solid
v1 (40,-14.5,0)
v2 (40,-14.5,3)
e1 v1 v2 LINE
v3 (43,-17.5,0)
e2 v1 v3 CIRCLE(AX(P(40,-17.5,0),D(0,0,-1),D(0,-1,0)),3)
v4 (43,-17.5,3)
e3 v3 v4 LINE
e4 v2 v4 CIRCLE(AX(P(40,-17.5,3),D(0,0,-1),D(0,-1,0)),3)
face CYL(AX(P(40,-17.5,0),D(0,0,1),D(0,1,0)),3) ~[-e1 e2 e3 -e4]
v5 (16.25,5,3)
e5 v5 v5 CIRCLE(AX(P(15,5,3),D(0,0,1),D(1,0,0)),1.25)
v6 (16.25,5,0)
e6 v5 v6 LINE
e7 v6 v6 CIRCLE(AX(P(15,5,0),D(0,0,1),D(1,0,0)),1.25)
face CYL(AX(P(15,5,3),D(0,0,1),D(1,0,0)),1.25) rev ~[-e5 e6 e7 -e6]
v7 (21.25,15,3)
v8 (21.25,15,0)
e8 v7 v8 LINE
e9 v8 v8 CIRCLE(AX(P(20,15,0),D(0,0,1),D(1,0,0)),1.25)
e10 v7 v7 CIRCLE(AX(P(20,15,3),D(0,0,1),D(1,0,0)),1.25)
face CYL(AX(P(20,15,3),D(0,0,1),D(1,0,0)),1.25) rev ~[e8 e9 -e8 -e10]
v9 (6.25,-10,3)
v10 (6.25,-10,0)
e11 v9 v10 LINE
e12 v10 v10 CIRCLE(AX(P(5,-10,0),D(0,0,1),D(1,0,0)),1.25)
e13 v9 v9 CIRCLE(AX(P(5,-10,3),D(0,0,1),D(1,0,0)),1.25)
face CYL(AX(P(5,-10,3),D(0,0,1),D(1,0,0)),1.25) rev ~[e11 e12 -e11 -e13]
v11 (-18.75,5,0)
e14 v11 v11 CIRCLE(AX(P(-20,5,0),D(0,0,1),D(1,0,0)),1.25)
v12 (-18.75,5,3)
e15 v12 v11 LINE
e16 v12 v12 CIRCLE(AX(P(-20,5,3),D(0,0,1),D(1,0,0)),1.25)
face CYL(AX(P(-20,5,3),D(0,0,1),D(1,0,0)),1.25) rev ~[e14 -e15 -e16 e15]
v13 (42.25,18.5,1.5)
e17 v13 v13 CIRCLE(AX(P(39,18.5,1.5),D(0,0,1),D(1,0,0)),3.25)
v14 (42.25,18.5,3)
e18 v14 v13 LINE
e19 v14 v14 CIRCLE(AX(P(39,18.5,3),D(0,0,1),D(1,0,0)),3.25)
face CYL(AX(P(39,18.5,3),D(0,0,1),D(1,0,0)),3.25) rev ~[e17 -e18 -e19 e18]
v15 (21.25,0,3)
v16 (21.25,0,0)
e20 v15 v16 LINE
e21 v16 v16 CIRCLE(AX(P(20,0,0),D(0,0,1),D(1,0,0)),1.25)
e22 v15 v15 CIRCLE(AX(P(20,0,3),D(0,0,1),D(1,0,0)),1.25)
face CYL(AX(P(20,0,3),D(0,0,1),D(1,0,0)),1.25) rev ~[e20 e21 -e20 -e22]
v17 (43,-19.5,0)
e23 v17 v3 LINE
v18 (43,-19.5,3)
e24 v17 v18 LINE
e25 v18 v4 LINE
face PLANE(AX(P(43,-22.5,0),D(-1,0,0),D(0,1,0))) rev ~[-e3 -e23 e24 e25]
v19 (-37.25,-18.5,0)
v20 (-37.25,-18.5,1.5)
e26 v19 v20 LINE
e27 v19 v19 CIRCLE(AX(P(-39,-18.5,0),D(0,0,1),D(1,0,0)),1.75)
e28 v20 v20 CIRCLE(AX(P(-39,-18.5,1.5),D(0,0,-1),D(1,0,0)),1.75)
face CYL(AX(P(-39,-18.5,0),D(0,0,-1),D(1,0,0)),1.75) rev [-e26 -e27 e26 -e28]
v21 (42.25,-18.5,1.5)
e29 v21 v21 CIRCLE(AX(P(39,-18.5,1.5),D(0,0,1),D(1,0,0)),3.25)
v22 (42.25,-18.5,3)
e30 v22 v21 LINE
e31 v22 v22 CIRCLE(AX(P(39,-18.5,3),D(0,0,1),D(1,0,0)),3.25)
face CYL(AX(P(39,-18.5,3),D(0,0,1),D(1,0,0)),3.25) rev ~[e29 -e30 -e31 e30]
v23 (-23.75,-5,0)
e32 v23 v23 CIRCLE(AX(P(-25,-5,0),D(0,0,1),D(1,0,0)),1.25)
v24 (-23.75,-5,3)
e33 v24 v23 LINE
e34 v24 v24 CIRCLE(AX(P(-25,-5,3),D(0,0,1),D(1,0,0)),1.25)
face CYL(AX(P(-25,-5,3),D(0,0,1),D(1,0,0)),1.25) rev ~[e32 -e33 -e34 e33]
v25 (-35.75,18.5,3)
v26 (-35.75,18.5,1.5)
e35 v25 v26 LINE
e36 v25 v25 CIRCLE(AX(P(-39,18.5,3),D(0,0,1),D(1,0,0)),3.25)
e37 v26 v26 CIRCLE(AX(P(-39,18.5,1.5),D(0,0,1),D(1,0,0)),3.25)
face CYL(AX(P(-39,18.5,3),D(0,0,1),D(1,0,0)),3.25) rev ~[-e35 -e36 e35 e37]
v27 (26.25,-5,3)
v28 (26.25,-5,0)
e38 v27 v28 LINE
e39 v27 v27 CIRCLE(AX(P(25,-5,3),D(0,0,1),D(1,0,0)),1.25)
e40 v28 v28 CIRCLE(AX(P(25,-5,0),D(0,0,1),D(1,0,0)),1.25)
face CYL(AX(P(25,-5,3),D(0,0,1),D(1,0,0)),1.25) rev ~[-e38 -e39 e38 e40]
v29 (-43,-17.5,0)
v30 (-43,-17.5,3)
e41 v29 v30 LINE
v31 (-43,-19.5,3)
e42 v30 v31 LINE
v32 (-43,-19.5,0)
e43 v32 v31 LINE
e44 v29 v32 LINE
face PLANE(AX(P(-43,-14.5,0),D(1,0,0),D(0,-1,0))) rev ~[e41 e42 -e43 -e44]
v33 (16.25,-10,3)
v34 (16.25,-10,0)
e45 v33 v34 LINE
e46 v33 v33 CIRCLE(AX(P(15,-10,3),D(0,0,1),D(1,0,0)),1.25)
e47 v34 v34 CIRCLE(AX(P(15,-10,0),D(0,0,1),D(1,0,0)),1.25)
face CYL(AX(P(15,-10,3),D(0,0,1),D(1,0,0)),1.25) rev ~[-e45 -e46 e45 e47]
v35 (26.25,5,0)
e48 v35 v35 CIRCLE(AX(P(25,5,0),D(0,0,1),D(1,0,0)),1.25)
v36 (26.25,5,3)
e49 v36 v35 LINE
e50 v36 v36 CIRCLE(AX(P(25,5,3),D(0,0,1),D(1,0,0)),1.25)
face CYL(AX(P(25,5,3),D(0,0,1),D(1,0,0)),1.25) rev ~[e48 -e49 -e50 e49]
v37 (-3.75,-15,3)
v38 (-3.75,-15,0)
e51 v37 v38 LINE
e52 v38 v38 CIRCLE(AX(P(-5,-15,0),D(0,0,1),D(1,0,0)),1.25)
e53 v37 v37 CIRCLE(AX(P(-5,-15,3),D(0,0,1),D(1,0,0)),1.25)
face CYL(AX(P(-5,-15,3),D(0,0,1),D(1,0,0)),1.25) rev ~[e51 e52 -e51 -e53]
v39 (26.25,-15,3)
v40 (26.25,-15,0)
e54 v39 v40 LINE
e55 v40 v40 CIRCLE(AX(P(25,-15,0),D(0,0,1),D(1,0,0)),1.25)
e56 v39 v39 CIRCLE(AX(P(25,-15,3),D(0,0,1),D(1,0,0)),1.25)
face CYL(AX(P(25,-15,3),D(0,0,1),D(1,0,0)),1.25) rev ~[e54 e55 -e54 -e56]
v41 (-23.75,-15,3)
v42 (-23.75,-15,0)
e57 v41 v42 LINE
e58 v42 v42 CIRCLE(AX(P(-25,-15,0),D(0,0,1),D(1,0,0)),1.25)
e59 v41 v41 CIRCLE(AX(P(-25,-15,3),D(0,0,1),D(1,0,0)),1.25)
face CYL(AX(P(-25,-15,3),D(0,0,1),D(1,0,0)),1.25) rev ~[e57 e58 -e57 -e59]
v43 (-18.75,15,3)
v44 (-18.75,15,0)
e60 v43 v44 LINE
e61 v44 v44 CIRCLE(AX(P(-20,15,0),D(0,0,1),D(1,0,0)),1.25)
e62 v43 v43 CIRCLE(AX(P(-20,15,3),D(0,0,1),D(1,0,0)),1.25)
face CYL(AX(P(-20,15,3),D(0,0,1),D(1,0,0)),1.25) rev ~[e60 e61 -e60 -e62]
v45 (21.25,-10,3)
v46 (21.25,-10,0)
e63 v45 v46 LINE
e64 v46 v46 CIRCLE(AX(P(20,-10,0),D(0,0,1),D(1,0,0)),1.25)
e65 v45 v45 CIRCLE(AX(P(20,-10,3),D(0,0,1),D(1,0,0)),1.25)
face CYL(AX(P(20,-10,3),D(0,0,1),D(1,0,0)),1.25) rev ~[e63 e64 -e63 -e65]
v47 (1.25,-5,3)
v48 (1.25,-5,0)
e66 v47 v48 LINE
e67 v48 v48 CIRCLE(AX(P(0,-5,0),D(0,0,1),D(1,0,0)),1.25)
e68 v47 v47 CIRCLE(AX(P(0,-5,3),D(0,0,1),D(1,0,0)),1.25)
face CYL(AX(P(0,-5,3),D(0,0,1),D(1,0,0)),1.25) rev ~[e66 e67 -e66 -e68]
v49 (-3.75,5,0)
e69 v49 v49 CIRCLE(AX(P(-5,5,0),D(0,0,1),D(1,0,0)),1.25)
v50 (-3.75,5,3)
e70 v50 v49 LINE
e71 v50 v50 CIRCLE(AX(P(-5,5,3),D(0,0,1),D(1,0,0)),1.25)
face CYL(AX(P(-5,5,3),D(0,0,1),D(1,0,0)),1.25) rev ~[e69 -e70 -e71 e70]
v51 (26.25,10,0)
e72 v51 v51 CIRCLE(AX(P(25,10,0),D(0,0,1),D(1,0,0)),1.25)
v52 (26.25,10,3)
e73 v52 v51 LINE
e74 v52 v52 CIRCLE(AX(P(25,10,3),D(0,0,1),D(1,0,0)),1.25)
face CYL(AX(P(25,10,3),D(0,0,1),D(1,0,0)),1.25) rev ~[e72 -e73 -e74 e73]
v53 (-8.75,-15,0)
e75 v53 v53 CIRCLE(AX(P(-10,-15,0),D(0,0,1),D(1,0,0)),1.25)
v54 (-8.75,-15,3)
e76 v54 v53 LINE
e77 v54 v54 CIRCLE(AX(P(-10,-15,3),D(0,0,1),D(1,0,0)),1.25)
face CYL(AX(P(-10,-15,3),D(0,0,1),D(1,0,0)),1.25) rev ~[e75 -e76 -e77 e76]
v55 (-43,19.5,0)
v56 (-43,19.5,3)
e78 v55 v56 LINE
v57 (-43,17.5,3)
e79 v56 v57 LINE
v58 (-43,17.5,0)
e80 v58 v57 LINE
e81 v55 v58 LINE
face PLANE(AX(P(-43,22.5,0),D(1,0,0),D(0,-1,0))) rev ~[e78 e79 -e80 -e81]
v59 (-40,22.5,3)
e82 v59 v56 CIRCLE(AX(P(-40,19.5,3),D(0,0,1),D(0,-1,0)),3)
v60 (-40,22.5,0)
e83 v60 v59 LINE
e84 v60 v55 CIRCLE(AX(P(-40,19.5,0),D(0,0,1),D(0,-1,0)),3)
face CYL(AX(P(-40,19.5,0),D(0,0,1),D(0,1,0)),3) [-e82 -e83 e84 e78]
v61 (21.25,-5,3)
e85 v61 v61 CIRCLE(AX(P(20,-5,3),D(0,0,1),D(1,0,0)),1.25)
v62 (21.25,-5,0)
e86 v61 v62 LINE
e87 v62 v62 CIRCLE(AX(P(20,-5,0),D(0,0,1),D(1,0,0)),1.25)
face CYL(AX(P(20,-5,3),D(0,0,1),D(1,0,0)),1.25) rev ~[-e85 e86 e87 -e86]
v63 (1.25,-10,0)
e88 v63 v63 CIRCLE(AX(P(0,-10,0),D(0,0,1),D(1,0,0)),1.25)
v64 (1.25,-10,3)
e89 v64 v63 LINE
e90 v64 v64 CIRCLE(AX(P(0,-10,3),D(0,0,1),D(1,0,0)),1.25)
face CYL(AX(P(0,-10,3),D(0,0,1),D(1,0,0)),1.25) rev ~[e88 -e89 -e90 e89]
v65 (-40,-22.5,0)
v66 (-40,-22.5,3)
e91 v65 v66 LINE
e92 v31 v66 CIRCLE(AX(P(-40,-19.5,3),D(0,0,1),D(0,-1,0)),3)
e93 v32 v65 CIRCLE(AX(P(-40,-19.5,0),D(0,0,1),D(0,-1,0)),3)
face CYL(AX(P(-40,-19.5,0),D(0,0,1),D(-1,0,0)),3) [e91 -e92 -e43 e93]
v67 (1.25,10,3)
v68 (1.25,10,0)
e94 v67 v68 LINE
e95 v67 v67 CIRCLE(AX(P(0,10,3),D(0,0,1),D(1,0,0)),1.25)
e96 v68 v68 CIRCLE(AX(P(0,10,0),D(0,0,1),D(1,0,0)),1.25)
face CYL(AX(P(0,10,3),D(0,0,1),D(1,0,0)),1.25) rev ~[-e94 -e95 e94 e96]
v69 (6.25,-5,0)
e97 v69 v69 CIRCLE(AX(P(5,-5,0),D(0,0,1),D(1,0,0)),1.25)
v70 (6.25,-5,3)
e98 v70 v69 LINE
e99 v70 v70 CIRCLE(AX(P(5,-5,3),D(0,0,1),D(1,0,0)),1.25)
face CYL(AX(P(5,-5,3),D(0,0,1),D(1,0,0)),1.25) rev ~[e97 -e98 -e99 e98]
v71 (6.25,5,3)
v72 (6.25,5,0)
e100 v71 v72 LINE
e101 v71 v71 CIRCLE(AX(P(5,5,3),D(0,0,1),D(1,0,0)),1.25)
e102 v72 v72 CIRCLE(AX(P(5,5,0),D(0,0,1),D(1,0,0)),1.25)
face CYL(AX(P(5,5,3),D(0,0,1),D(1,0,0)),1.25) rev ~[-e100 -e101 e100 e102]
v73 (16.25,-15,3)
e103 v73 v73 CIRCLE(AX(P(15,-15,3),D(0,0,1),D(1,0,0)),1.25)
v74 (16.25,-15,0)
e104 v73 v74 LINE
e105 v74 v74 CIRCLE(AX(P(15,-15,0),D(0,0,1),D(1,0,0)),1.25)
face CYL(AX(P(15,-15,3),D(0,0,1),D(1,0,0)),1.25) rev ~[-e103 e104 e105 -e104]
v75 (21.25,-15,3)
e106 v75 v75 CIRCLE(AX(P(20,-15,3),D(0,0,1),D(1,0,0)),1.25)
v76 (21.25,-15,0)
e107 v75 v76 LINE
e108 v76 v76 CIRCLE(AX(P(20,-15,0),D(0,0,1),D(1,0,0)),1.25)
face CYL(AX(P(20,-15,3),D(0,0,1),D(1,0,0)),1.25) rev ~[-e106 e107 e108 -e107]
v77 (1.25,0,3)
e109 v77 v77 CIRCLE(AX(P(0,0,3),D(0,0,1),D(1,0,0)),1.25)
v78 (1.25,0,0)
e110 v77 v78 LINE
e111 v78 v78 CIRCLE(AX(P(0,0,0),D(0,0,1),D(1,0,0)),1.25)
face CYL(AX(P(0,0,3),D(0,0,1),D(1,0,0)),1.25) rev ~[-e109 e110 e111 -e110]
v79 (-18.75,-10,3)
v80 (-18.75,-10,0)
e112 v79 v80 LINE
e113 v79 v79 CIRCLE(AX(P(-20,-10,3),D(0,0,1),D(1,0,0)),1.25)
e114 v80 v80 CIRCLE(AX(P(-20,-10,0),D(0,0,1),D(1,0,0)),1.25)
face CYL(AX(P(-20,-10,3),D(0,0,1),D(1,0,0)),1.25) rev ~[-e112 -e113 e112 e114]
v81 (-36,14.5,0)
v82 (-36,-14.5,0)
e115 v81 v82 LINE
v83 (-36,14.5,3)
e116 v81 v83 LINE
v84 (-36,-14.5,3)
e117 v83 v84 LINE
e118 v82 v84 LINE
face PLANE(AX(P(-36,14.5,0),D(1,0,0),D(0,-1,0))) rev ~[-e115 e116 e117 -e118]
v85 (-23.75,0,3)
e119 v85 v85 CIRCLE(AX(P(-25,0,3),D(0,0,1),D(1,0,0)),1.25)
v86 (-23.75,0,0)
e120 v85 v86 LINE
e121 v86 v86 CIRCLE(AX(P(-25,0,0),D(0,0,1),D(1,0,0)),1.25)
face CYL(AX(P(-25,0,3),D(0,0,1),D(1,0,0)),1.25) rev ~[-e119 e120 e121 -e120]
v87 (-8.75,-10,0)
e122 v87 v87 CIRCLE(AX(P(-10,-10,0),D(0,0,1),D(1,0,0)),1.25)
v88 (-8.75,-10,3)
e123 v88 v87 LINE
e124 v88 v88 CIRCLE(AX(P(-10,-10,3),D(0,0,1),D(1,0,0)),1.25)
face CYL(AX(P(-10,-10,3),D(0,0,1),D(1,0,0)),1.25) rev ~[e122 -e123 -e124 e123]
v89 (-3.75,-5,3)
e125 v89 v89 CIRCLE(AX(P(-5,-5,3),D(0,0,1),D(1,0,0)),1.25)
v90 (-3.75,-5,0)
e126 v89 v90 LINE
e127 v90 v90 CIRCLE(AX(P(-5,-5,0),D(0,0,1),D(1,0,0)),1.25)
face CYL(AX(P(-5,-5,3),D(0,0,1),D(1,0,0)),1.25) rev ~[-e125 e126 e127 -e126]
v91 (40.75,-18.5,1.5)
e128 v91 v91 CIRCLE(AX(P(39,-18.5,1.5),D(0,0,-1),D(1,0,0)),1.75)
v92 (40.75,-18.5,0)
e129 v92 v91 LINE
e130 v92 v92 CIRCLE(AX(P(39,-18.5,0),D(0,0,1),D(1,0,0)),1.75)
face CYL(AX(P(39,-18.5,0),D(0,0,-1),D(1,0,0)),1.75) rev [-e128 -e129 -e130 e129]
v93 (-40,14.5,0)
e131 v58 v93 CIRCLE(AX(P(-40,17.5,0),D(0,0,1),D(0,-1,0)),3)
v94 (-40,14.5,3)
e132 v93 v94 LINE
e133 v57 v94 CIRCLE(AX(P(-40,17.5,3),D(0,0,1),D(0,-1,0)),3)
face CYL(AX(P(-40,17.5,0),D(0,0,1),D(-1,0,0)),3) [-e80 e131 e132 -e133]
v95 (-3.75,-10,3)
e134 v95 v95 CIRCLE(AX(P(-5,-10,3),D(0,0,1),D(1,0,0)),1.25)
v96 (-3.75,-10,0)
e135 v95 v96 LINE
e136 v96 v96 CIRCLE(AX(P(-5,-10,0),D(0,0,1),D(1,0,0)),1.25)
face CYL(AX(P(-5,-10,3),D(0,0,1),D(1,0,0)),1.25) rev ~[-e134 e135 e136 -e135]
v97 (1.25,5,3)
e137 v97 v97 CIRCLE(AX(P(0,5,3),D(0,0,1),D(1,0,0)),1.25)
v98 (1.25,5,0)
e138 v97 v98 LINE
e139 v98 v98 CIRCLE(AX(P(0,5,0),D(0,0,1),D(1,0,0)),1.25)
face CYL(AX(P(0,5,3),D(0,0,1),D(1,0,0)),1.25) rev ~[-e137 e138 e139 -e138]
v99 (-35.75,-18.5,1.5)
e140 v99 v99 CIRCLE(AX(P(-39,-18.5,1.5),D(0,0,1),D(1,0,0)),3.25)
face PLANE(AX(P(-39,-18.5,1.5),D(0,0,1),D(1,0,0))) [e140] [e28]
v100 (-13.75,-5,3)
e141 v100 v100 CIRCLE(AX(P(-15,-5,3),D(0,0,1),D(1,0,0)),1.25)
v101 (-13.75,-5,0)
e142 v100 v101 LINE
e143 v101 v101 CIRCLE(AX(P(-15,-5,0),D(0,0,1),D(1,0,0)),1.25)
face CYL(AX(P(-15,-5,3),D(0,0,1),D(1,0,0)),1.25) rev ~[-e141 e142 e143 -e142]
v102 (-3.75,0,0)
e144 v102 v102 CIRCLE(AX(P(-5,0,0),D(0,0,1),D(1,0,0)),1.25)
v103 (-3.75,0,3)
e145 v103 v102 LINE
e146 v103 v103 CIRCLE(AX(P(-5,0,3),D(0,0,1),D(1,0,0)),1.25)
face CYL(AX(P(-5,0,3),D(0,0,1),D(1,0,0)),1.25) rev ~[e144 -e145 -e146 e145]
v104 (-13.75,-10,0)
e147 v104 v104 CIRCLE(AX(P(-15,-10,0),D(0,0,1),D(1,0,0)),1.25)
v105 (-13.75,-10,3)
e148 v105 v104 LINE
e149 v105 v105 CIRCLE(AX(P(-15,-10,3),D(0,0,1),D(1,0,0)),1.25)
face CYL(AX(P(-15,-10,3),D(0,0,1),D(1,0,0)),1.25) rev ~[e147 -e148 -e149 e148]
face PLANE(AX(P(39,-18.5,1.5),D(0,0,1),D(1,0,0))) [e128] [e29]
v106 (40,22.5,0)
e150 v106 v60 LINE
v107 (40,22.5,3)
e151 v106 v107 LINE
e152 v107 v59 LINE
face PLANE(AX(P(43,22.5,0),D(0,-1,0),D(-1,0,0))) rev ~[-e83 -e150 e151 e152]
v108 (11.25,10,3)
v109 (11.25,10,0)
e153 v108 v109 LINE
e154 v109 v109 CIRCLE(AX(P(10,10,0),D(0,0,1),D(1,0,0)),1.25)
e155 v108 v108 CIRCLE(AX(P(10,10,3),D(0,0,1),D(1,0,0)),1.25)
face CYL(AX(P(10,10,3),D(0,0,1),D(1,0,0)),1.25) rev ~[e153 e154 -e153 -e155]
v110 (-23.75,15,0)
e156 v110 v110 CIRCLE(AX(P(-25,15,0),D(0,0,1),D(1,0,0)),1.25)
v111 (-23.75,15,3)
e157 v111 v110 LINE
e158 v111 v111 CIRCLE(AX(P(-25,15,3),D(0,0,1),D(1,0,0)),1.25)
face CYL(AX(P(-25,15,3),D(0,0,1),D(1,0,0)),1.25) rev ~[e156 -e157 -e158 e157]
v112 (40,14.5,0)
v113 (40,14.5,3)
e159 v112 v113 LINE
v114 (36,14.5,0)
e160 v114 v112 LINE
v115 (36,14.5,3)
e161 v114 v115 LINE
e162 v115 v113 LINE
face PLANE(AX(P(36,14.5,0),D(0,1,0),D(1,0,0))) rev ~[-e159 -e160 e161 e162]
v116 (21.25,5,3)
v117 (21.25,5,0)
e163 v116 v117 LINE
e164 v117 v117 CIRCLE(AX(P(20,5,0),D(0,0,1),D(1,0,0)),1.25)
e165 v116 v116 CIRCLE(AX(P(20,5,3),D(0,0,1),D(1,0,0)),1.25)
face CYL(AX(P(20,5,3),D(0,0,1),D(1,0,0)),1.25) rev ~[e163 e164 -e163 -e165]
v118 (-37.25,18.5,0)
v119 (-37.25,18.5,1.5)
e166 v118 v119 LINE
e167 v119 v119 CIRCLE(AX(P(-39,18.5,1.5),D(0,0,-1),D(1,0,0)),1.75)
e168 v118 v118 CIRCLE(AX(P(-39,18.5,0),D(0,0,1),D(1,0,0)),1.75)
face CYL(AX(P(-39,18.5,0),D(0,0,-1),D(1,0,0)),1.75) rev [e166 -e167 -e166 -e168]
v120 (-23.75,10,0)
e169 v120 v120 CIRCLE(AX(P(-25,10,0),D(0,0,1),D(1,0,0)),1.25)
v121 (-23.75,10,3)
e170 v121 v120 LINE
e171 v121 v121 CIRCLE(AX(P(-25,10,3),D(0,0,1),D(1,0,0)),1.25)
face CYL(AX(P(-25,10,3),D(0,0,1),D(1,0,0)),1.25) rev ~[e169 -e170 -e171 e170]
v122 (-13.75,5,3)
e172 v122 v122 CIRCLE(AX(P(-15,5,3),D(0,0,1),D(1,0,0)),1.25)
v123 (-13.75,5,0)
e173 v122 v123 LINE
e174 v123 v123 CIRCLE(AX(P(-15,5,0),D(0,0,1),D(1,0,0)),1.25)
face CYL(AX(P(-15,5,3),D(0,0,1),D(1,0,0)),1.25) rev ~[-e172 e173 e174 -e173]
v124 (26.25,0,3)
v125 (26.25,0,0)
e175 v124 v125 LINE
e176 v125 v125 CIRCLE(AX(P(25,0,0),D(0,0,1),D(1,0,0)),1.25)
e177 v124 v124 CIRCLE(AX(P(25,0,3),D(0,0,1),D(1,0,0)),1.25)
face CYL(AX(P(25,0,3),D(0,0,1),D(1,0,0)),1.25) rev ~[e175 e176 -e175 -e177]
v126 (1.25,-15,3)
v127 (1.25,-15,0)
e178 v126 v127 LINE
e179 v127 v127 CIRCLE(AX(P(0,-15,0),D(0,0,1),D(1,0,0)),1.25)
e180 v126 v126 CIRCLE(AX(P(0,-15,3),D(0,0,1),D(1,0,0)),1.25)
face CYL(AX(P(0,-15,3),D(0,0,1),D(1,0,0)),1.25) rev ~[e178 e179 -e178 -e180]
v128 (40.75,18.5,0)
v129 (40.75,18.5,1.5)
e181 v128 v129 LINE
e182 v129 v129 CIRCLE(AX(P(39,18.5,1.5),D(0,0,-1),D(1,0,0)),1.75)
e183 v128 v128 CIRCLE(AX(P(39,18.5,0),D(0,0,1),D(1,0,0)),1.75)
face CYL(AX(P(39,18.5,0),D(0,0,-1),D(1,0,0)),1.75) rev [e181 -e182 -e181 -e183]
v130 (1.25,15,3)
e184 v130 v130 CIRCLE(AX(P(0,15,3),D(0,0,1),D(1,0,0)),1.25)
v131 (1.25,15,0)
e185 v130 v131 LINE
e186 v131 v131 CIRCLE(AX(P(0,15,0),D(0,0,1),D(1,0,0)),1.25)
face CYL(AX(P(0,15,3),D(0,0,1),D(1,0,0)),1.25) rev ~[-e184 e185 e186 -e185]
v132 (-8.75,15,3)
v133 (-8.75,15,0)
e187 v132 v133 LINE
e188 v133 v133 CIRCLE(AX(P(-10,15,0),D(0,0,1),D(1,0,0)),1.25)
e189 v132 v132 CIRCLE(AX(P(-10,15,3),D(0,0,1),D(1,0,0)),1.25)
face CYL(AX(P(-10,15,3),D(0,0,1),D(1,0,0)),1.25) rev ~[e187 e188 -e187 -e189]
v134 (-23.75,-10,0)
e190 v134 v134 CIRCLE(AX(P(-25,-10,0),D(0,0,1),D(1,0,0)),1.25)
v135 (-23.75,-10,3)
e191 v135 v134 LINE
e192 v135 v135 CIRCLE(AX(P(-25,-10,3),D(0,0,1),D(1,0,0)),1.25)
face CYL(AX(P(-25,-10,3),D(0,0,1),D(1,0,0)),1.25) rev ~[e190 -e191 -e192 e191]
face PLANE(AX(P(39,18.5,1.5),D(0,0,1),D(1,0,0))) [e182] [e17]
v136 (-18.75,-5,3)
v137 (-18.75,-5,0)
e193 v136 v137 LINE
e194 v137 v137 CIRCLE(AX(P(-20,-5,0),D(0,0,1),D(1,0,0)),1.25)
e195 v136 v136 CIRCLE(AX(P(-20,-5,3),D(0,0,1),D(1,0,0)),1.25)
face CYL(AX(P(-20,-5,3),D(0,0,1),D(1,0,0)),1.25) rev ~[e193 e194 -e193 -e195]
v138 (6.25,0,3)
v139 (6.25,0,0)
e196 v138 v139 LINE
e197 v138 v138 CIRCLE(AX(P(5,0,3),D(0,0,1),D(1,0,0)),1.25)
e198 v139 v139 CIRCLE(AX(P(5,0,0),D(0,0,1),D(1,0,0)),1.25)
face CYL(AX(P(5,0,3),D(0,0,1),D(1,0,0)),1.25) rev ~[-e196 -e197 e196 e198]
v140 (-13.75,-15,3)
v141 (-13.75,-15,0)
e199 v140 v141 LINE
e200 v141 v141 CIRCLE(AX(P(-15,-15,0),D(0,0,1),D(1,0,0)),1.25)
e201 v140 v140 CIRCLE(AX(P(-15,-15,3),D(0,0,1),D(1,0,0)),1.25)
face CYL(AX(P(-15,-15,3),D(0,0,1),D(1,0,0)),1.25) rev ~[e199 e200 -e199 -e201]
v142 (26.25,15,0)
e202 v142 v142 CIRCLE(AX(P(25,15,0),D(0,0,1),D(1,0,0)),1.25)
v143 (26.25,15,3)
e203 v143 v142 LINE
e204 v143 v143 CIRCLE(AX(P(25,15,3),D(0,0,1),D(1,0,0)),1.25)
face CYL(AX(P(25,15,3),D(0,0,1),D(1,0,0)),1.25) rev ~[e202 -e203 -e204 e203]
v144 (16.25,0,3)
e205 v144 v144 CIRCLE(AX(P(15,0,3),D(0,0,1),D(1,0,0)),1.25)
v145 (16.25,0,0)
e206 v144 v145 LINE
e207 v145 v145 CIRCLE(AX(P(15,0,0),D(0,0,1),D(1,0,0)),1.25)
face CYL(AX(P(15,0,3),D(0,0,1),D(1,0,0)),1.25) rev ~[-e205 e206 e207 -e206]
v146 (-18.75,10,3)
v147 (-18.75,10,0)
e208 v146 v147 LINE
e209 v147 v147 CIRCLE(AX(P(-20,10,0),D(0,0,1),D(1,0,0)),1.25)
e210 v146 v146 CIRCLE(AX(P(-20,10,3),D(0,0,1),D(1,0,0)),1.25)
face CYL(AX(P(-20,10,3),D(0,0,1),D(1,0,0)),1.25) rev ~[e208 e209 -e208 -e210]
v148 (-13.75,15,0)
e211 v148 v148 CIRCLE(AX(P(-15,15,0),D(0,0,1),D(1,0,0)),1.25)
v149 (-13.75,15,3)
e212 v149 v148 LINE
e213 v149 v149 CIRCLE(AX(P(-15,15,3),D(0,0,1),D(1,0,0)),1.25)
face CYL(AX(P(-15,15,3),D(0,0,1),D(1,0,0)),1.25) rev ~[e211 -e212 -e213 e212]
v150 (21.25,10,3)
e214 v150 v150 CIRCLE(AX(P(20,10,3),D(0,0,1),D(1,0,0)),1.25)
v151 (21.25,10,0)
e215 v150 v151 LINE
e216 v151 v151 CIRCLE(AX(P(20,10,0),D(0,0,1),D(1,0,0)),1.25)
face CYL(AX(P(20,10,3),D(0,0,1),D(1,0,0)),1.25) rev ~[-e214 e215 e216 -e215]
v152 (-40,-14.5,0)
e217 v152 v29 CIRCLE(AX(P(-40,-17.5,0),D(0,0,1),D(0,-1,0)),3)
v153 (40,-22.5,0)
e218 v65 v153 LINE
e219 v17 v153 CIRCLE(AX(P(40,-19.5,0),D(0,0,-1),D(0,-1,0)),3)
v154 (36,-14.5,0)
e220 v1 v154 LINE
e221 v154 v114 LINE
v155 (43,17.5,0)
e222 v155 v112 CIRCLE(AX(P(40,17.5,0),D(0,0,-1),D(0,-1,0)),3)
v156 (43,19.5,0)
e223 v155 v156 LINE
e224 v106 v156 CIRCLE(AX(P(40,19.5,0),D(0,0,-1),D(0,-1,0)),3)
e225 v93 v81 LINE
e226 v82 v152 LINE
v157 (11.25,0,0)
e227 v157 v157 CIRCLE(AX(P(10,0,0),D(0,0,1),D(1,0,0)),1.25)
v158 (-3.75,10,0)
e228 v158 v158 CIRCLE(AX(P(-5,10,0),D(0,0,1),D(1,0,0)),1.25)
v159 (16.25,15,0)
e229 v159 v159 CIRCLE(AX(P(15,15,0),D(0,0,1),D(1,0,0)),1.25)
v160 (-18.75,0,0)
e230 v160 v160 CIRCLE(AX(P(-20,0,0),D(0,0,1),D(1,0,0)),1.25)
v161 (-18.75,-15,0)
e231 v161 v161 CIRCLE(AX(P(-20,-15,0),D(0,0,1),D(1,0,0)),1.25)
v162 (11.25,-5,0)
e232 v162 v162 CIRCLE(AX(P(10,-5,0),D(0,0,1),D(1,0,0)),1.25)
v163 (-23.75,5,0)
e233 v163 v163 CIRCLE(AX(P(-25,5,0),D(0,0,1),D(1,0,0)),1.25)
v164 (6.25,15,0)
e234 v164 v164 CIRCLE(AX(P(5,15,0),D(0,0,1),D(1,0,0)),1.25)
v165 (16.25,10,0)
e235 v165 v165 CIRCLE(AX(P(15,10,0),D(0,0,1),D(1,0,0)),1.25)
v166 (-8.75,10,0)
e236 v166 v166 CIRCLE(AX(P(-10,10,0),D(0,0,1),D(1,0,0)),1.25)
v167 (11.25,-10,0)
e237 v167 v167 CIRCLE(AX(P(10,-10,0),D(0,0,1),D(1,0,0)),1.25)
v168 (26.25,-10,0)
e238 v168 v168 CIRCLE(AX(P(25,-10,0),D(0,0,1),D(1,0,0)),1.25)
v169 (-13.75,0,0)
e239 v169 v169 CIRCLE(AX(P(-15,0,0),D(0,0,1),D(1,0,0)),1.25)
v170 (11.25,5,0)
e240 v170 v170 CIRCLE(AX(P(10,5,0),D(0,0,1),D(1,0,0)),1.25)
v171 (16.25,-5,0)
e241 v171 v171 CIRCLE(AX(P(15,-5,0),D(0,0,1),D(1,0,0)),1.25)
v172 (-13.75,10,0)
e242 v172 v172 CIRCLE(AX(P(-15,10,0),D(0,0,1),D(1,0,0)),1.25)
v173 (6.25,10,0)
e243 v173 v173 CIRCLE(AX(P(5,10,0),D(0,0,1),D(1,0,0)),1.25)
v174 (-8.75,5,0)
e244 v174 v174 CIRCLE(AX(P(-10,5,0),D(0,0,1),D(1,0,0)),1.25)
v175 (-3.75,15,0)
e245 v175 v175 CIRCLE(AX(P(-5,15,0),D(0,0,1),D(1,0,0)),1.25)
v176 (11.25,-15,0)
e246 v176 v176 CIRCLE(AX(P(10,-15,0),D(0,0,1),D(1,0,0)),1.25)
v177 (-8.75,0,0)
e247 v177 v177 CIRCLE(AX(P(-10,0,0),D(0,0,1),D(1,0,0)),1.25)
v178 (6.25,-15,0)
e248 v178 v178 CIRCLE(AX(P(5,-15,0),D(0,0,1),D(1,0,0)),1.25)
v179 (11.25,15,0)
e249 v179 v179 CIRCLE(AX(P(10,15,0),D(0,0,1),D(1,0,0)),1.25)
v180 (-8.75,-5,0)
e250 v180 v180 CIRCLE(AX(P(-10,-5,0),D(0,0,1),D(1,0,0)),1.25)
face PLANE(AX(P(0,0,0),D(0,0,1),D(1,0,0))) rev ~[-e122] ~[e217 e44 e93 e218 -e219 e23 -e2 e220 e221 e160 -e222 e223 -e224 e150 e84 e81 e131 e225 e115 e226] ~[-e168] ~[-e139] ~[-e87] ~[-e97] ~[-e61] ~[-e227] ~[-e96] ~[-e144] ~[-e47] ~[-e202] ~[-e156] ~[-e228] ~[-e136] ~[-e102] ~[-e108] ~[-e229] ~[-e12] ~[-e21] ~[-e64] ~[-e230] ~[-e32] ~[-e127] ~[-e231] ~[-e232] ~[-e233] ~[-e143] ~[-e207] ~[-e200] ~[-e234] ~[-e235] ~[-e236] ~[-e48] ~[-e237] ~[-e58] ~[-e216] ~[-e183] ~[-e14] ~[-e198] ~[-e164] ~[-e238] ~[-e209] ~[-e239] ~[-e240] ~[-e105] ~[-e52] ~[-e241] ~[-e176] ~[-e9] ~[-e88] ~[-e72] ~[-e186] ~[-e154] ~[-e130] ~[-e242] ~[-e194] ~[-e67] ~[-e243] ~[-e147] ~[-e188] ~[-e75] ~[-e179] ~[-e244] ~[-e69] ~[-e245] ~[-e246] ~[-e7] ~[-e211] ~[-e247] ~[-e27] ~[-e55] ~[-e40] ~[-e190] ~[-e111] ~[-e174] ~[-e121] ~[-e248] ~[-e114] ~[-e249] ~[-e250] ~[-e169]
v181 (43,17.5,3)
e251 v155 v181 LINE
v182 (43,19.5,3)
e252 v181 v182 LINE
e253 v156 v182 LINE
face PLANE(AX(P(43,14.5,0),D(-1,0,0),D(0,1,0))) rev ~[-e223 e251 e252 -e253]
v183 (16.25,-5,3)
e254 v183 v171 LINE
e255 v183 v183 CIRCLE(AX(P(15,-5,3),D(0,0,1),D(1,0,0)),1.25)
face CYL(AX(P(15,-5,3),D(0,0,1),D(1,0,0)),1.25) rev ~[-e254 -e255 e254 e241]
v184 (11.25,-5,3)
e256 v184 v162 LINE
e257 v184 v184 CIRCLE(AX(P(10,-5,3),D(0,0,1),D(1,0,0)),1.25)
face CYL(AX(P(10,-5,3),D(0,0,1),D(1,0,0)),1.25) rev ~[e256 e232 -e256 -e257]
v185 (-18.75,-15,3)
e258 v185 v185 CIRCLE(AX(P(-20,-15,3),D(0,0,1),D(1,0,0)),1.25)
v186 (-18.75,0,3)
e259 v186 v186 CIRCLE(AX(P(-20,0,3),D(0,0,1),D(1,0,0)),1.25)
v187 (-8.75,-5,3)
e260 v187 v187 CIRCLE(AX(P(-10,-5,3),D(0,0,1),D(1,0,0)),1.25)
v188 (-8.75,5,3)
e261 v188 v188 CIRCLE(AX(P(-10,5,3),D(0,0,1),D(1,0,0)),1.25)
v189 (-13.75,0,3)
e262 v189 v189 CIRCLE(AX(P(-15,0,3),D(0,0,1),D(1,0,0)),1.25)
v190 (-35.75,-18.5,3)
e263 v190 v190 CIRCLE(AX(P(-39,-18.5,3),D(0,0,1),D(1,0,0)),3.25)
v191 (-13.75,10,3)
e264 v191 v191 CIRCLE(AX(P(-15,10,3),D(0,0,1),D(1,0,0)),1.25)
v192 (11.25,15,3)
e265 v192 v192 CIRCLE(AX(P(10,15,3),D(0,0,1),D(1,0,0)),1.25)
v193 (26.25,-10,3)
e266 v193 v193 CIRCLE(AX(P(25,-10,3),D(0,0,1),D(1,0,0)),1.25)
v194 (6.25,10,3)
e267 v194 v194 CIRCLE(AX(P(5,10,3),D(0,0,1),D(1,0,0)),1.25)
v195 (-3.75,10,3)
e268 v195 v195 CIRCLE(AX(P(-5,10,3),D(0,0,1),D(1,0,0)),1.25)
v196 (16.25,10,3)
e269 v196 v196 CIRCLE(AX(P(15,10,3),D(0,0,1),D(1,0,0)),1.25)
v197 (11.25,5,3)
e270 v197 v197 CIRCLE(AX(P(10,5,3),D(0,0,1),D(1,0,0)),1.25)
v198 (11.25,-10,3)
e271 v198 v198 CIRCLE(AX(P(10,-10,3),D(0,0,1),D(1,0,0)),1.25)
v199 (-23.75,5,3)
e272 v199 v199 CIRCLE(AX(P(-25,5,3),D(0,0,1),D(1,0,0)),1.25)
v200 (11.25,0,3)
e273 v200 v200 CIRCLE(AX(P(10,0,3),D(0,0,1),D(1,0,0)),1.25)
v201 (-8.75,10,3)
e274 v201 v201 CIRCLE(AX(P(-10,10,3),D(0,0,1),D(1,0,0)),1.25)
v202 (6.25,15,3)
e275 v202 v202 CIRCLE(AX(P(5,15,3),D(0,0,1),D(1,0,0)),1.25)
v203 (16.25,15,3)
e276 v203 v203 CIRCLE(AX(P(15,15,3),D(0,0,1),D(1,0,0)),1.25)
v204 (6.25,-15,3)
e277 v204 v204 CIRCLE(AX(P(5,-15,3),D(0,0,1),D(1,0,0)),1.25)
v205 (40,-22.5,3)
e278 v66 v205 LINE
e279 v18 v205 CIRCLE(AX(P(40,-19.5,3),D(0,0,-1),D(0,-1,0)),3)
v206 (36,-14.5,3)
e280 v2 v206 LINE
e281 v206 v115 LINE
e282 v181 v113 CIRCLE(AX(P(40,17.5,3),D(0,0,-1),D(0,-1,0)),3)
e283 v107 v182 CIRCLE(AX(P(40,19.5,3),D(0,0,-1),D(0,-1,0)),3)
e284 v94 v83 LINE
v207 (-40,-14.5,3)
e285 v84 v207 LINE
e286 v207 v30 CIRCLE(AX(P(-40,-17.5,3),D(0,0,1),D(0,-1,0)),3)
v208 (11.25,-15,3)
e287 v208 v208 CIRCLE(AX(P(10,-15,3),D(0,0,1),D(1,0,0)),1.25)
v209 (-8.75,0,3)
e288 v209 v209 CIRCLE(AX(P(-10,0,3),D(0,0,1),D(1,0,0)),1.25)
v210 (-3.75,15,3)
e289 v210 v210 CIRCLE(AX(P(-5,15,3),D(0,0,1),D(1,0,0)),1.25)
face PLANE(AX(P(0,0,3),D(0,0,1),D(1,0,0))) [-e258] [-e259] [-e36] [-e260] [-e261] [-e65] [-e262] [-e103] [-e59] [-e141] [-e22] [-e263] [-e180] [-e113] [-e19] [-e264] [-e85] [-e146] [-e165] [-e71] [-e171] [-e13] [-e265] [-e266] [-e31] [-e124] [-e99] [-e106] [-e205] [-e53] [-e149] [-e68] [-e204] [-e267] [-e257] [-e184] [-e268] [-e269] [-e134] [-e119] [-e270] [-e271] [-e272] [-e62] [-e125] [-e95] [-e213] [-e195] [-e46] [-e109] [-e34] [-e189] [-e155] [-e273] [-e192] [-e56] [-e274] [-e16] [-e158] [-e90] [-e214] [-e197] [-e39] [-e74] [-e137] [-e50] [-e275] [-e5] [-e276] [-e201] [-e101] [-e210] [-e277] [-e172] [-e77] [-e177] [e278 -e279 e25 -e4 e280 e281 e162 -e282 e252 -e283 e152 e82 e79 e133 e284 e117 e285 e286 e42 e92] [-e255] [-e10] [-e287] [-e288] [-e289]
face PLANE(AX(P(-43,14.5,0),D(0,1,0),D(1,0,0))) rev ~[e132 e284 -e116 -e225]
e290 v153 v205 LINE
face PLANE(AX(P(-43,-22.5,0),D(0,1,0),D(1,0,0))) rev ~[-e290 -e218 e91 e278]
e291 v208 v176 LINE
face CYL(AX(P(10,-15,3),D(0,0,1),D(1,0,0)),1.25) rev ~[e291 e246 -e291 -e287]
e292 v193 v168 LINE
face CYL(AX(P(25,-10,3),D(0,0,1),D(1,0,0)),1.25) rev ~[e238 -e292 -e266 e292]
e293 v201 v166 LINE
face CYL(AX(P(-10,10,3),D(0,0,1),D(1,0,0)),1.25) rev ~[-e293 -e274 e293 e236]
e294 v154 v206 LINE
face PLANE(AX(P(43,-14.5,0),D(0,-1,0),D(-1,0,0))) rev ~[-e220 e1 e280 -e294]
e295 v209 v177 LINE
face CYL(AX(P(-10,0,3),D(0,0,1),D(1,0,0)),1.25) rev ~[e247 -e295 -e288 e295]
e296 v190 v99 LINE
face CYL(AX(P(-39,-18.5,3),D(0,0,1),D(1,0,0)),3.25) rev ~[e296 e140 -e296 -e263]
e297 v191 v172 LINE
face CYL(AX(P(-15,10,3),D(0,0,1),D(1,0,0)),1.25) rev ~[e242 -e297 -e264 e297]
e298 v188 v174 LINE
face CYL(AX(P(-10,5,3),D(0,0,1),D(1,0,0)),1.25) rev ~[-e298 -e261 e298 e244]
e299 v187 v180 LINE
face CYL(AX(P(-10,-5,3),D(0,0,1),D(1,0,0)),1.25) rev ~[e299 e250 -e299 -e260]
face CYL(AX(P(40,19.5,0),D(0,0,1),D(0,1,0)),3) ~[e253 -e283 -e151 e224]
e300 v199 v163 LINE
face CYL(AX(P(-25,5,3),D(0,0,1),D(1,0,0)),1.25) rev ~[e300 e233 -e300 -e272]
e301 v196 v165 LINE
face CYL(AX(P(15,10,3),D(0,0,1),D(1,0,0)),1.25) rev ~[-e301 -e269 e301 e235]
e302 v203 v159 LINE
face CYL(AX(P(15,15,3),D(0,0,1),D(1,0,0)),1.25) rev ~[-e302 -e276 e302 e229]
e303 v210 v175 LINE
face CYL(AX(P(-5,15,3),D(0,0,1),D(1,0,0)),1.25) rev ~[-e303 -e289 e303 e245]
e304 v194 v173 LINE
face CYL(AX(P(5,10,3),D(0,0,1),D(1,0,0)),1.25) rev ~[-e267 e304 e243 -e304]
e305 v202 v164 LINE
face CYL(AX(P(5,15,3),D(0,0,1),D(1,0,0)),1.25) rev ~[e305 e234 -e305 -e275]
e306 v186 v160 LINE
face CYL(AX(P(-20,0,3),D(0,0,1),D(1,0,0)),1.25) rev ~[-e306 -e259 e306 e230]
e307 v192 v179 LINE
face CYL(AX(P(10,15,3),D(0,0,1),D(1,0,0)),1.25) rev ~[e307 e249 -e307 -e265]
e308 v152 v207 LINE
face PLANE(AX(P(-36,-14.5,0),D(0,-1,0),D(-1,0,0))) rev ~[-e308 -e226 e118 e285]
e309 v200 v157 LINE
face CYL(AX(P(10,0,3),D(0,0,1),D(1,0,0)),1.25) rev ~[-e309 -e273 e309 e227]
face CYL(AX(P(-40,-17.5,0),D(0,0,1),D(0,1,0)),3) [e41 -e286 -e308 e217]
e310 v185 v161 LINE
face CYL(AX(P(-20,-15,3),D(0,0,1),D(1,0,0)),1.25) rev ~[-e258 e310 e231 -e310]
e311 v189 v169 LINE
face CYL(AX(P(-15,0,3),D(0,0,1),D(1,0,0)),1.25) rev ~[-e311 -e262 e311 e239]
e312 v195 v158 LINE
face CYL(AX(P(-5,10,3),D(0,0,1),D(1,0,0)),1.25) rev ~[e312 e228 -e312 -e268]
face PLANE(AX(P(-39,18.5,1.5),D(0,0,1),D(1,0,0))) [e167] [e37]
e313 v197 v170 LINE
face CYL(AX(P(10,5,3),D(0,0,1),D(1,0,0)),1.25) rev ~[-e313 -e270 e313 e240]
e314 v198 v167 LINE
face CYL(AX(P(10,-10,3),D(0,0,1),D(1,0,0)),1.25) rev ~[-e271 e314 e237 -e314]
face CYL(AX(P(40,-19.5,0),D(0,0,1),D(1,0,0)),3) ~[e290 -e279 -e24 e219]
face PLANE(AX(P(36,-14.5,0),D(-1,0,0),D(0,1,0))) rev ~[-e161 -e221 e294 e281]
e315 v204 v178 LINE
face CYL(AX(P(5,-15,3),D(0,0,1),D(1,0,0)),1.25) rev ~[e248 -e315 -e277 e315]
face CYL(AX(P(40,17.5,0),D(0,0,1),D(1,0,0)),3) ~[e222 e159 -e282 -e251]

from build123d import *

# Parameters (mm, degrees)
F0_R     = 1.75
F1_DEPTH = 3
F2_R     = 3.25
F3_DEPTH = 1.5
F4_R     = 3
F5_R     = 1.25
F6_DEPTH = 3.001


with BuildPart() as f1:
    # F0 (on Top) → F1 (new body)
    with BuildSketch(Plane.XY):
        Polygon((43, 22.5), (0, 22.5), (-43, 22.5), (-43, 14.5), (-36, 14.5), (-36, 0), (-36, -14.5), (-43, -14.5), (-43, -22.5), (0, -22.5), (43, -22.5), (43, -14.5), (36, -14.5), (36, 0), (36, 14.5), (43, 14.5), align=None)
        with Locations((-39, -18.5)):
            Circle(F0_R, mode=Mode.SUBTRACT)
        with Locations((39, -18.5)):
            Circle(F0_R, mode=Mode.SUBTRACT)
        with Locations((-39, 18.5)):
            Circle(F0_R, mode=Mode.SUBTRACT)
        with Locations((39, 18.5)):
            Circle(F0_R, mode=Mode.SUBTRACT)
    extrude(amount=F1_DEPTH)

    # F2 (on face) → F3 (cut)
    with BuildSketch(Plane.XY.offset(3)):
        with Locations((-39, 18.5)):
            Circle(F2_R)
        with Locations((-39, -18.5)):
            Circle(F2_R)
        with Locations((39, 18.5)):
            Circle(F2_R)
        with Locations((39, -18.5)):
            Circle(F2_R)
    extrude(amount=-F3_DEPTH, mode=Mode.SUBTRACT)

    # F4
    f4_edges = [f1.edges().sort_by_distance(p)[0] for p in [
        (43, -22.5, 1.5),
        (43, -14.5, 1.5),
        (43, 14.5, 1.5),
        (43, 22.5, 1.5),
        (-43, -14.5, 1.5),
        (-43, -22.5, 1.5),
        (-43, 14.5, 1.5),
        (-43, 22.5, 1.5),
    ]]
    fillet(f4_edges, radius=F4_R)

    # F5 (on face) → F6 (cut, through all)
    with BuildSketch(Plane.XY.offset(3)):
        with Locations((-25, 15)):
            Circle(F5_R)
        with Locations((-20, 15)):
            Circle(F5_R)
        with Locations((-15, 15)):
            Circle(F5_R)
        with Locations((-10, 15)):
            Circle(F5_R)
        with Locations((-5, 15)):
            Circle(F5_R)
        with Locations((0, 15)):
            Circle(F5_R)
        with Locations((5, 15)):
            Circle(F5_R)
        with Locations((10, 15)):
            Circle(F5_R)
        with Locations((15, 15)):
            Circle(F5_R)
        with Locations((20, 15)):
            Circle(F5_R)
        with Locations((25, 15)):
            Circle(F5_R)
        with Locations((-25, 10)):
            Circle(F5_R)
        with Locations((-20, 10)):
            Circle(F5_R)
        with Locations((-15, 10)):
            Circle(F5_R)
        with Locations((-10, 10)):
            Circle(F5_R)
        with Locations((-5, 10)):
            Circle(F5_R)
        with Locations((0, 10)):
            Circle(F5_R)
        with Locations((5, 10)):
            Circle(F5_R)
        with Locations((10, 10)):
            Circle(F5_R)
        with Locations((15, 10)):
            Circle(F5_R)
        with Locations((20, 10)):
            Circle(F5_R)
        with Locations((25, 10)):
            Circle(F5_R)
        with Locations((-25, 5)):
            Circle(F5_R)
        with Locations((-20, 5)):
            Circle(F5_R)
        with Locations((-15, 5)):
            Circle(F5_R)
        with Locations((-10, 5)):
            Circle(F5_R)
        with Locations((-5, 5)):
            Circle(F5_R)
        with Locations((0, 5)):
            Circle(F5_R)
        with Locations((5, 5)):
            Circle(F5_R)
        with Locations((10, 5)):
            Circle(F5_R)
        with Locations((15, 5)):
            Circle(F5_R)
        with Locations((20, 5)):
            Circle(F5_R)
        with Locations((25, 5)):
            Circle(F5_R)
        with Locations((-25, 0)):
            Circle(F5_R)
        with Locations((-20, 0)):
            Circle(F5_R)
        with Locations((-15, 0)):
            Circle(F5_R)
        with Locations((-10, 0)):
            Circle(F5_R)
        with Locations((-5, 0)):
            Circle(F5_R)
        Circle(F5_R)
        with Locations((5, 0)):
            Circle(F5_R)
        with Locations((10, 0)):
            Circle(F5_R)
        with Locations((15, 0)):
            Circle(F5_R)
        with Locations((20, 0)):
            Circle(F5_R)
        with Locations((25, 0)):
            Circle(F5_R)
        with Locations((-25, -5)):
            Circle(F5_R)
        with Locations((-20, -5)):
            Circle(F5_R)
        with Locations((-15, -5)):
            Circle(F5_R)
        with Locations((-10, -5)):
            Circle(F5_R)
        with Locations((-5, -5)):
            Circle(F5_R)
        with Locations((0, -5)):
            Circle(F5_R)
        with Locations((5, -5)):
            Circle(F5_R)
        with Locations((10, -5)):
            Circle(F5_R)
        with Locations((15, -5)):
            Circle(F5_R)
        with Locations((20, -5)):
            Circle(F5_R)
        with Locations((25, -5)):
            Circle(F5_R)
        with Locations((-25, -10)):
            Circle(F5_R)
        with Locations((-20, -10)):
            Circle(F5_R)
        with Locations((-15, -10)):
            Circle(F5_R)
        with Locations((-10, -10)):
            Circle(F5_R)
        with Locations((-5, -10)):
            Circle(F5_R)
        with Locations((0, -10)):
            Circle(F5_R)
        with Locations((5, -10)):
            Circle(F5_R)
        with Locations((10, -10)):
            Circle(F5_R)
        with Locations((15, -10)):
            Circle(F5_R)
        with Locations((20, -10)):
            Circle(F5_R)
        with Locations((25, -10)):
            Circle(F5_R)
        with Locations((-25, -15)):
            Circle(F5_R)
        with Locations((-20, -15)):
            Circle(F5_R)
        with Locations((-15, -15)):
            Circle(F5_R)
        with Locations((-10, -15)):
            Circle(F5_R)
        with Locations((-5, -15)):
            Circle(F5_R)
        with Locations((0, -15)):
            Circle(F5_R)
        with Locations((5, -15)):
            Circle(F5_R)
        with Locations((10, -15)):
            Circle(F5_R)
        with Locations((15, -15)):
            Circle(F5_R)
        with Locations((20, -15)):
            Circle(F5_R)
        with Locations((25, -15)):
            Circle(F5_R)
    extrude(amount=-F6_DEPTH, mode=Mode.SUBTRACT)


solid = f1.part
